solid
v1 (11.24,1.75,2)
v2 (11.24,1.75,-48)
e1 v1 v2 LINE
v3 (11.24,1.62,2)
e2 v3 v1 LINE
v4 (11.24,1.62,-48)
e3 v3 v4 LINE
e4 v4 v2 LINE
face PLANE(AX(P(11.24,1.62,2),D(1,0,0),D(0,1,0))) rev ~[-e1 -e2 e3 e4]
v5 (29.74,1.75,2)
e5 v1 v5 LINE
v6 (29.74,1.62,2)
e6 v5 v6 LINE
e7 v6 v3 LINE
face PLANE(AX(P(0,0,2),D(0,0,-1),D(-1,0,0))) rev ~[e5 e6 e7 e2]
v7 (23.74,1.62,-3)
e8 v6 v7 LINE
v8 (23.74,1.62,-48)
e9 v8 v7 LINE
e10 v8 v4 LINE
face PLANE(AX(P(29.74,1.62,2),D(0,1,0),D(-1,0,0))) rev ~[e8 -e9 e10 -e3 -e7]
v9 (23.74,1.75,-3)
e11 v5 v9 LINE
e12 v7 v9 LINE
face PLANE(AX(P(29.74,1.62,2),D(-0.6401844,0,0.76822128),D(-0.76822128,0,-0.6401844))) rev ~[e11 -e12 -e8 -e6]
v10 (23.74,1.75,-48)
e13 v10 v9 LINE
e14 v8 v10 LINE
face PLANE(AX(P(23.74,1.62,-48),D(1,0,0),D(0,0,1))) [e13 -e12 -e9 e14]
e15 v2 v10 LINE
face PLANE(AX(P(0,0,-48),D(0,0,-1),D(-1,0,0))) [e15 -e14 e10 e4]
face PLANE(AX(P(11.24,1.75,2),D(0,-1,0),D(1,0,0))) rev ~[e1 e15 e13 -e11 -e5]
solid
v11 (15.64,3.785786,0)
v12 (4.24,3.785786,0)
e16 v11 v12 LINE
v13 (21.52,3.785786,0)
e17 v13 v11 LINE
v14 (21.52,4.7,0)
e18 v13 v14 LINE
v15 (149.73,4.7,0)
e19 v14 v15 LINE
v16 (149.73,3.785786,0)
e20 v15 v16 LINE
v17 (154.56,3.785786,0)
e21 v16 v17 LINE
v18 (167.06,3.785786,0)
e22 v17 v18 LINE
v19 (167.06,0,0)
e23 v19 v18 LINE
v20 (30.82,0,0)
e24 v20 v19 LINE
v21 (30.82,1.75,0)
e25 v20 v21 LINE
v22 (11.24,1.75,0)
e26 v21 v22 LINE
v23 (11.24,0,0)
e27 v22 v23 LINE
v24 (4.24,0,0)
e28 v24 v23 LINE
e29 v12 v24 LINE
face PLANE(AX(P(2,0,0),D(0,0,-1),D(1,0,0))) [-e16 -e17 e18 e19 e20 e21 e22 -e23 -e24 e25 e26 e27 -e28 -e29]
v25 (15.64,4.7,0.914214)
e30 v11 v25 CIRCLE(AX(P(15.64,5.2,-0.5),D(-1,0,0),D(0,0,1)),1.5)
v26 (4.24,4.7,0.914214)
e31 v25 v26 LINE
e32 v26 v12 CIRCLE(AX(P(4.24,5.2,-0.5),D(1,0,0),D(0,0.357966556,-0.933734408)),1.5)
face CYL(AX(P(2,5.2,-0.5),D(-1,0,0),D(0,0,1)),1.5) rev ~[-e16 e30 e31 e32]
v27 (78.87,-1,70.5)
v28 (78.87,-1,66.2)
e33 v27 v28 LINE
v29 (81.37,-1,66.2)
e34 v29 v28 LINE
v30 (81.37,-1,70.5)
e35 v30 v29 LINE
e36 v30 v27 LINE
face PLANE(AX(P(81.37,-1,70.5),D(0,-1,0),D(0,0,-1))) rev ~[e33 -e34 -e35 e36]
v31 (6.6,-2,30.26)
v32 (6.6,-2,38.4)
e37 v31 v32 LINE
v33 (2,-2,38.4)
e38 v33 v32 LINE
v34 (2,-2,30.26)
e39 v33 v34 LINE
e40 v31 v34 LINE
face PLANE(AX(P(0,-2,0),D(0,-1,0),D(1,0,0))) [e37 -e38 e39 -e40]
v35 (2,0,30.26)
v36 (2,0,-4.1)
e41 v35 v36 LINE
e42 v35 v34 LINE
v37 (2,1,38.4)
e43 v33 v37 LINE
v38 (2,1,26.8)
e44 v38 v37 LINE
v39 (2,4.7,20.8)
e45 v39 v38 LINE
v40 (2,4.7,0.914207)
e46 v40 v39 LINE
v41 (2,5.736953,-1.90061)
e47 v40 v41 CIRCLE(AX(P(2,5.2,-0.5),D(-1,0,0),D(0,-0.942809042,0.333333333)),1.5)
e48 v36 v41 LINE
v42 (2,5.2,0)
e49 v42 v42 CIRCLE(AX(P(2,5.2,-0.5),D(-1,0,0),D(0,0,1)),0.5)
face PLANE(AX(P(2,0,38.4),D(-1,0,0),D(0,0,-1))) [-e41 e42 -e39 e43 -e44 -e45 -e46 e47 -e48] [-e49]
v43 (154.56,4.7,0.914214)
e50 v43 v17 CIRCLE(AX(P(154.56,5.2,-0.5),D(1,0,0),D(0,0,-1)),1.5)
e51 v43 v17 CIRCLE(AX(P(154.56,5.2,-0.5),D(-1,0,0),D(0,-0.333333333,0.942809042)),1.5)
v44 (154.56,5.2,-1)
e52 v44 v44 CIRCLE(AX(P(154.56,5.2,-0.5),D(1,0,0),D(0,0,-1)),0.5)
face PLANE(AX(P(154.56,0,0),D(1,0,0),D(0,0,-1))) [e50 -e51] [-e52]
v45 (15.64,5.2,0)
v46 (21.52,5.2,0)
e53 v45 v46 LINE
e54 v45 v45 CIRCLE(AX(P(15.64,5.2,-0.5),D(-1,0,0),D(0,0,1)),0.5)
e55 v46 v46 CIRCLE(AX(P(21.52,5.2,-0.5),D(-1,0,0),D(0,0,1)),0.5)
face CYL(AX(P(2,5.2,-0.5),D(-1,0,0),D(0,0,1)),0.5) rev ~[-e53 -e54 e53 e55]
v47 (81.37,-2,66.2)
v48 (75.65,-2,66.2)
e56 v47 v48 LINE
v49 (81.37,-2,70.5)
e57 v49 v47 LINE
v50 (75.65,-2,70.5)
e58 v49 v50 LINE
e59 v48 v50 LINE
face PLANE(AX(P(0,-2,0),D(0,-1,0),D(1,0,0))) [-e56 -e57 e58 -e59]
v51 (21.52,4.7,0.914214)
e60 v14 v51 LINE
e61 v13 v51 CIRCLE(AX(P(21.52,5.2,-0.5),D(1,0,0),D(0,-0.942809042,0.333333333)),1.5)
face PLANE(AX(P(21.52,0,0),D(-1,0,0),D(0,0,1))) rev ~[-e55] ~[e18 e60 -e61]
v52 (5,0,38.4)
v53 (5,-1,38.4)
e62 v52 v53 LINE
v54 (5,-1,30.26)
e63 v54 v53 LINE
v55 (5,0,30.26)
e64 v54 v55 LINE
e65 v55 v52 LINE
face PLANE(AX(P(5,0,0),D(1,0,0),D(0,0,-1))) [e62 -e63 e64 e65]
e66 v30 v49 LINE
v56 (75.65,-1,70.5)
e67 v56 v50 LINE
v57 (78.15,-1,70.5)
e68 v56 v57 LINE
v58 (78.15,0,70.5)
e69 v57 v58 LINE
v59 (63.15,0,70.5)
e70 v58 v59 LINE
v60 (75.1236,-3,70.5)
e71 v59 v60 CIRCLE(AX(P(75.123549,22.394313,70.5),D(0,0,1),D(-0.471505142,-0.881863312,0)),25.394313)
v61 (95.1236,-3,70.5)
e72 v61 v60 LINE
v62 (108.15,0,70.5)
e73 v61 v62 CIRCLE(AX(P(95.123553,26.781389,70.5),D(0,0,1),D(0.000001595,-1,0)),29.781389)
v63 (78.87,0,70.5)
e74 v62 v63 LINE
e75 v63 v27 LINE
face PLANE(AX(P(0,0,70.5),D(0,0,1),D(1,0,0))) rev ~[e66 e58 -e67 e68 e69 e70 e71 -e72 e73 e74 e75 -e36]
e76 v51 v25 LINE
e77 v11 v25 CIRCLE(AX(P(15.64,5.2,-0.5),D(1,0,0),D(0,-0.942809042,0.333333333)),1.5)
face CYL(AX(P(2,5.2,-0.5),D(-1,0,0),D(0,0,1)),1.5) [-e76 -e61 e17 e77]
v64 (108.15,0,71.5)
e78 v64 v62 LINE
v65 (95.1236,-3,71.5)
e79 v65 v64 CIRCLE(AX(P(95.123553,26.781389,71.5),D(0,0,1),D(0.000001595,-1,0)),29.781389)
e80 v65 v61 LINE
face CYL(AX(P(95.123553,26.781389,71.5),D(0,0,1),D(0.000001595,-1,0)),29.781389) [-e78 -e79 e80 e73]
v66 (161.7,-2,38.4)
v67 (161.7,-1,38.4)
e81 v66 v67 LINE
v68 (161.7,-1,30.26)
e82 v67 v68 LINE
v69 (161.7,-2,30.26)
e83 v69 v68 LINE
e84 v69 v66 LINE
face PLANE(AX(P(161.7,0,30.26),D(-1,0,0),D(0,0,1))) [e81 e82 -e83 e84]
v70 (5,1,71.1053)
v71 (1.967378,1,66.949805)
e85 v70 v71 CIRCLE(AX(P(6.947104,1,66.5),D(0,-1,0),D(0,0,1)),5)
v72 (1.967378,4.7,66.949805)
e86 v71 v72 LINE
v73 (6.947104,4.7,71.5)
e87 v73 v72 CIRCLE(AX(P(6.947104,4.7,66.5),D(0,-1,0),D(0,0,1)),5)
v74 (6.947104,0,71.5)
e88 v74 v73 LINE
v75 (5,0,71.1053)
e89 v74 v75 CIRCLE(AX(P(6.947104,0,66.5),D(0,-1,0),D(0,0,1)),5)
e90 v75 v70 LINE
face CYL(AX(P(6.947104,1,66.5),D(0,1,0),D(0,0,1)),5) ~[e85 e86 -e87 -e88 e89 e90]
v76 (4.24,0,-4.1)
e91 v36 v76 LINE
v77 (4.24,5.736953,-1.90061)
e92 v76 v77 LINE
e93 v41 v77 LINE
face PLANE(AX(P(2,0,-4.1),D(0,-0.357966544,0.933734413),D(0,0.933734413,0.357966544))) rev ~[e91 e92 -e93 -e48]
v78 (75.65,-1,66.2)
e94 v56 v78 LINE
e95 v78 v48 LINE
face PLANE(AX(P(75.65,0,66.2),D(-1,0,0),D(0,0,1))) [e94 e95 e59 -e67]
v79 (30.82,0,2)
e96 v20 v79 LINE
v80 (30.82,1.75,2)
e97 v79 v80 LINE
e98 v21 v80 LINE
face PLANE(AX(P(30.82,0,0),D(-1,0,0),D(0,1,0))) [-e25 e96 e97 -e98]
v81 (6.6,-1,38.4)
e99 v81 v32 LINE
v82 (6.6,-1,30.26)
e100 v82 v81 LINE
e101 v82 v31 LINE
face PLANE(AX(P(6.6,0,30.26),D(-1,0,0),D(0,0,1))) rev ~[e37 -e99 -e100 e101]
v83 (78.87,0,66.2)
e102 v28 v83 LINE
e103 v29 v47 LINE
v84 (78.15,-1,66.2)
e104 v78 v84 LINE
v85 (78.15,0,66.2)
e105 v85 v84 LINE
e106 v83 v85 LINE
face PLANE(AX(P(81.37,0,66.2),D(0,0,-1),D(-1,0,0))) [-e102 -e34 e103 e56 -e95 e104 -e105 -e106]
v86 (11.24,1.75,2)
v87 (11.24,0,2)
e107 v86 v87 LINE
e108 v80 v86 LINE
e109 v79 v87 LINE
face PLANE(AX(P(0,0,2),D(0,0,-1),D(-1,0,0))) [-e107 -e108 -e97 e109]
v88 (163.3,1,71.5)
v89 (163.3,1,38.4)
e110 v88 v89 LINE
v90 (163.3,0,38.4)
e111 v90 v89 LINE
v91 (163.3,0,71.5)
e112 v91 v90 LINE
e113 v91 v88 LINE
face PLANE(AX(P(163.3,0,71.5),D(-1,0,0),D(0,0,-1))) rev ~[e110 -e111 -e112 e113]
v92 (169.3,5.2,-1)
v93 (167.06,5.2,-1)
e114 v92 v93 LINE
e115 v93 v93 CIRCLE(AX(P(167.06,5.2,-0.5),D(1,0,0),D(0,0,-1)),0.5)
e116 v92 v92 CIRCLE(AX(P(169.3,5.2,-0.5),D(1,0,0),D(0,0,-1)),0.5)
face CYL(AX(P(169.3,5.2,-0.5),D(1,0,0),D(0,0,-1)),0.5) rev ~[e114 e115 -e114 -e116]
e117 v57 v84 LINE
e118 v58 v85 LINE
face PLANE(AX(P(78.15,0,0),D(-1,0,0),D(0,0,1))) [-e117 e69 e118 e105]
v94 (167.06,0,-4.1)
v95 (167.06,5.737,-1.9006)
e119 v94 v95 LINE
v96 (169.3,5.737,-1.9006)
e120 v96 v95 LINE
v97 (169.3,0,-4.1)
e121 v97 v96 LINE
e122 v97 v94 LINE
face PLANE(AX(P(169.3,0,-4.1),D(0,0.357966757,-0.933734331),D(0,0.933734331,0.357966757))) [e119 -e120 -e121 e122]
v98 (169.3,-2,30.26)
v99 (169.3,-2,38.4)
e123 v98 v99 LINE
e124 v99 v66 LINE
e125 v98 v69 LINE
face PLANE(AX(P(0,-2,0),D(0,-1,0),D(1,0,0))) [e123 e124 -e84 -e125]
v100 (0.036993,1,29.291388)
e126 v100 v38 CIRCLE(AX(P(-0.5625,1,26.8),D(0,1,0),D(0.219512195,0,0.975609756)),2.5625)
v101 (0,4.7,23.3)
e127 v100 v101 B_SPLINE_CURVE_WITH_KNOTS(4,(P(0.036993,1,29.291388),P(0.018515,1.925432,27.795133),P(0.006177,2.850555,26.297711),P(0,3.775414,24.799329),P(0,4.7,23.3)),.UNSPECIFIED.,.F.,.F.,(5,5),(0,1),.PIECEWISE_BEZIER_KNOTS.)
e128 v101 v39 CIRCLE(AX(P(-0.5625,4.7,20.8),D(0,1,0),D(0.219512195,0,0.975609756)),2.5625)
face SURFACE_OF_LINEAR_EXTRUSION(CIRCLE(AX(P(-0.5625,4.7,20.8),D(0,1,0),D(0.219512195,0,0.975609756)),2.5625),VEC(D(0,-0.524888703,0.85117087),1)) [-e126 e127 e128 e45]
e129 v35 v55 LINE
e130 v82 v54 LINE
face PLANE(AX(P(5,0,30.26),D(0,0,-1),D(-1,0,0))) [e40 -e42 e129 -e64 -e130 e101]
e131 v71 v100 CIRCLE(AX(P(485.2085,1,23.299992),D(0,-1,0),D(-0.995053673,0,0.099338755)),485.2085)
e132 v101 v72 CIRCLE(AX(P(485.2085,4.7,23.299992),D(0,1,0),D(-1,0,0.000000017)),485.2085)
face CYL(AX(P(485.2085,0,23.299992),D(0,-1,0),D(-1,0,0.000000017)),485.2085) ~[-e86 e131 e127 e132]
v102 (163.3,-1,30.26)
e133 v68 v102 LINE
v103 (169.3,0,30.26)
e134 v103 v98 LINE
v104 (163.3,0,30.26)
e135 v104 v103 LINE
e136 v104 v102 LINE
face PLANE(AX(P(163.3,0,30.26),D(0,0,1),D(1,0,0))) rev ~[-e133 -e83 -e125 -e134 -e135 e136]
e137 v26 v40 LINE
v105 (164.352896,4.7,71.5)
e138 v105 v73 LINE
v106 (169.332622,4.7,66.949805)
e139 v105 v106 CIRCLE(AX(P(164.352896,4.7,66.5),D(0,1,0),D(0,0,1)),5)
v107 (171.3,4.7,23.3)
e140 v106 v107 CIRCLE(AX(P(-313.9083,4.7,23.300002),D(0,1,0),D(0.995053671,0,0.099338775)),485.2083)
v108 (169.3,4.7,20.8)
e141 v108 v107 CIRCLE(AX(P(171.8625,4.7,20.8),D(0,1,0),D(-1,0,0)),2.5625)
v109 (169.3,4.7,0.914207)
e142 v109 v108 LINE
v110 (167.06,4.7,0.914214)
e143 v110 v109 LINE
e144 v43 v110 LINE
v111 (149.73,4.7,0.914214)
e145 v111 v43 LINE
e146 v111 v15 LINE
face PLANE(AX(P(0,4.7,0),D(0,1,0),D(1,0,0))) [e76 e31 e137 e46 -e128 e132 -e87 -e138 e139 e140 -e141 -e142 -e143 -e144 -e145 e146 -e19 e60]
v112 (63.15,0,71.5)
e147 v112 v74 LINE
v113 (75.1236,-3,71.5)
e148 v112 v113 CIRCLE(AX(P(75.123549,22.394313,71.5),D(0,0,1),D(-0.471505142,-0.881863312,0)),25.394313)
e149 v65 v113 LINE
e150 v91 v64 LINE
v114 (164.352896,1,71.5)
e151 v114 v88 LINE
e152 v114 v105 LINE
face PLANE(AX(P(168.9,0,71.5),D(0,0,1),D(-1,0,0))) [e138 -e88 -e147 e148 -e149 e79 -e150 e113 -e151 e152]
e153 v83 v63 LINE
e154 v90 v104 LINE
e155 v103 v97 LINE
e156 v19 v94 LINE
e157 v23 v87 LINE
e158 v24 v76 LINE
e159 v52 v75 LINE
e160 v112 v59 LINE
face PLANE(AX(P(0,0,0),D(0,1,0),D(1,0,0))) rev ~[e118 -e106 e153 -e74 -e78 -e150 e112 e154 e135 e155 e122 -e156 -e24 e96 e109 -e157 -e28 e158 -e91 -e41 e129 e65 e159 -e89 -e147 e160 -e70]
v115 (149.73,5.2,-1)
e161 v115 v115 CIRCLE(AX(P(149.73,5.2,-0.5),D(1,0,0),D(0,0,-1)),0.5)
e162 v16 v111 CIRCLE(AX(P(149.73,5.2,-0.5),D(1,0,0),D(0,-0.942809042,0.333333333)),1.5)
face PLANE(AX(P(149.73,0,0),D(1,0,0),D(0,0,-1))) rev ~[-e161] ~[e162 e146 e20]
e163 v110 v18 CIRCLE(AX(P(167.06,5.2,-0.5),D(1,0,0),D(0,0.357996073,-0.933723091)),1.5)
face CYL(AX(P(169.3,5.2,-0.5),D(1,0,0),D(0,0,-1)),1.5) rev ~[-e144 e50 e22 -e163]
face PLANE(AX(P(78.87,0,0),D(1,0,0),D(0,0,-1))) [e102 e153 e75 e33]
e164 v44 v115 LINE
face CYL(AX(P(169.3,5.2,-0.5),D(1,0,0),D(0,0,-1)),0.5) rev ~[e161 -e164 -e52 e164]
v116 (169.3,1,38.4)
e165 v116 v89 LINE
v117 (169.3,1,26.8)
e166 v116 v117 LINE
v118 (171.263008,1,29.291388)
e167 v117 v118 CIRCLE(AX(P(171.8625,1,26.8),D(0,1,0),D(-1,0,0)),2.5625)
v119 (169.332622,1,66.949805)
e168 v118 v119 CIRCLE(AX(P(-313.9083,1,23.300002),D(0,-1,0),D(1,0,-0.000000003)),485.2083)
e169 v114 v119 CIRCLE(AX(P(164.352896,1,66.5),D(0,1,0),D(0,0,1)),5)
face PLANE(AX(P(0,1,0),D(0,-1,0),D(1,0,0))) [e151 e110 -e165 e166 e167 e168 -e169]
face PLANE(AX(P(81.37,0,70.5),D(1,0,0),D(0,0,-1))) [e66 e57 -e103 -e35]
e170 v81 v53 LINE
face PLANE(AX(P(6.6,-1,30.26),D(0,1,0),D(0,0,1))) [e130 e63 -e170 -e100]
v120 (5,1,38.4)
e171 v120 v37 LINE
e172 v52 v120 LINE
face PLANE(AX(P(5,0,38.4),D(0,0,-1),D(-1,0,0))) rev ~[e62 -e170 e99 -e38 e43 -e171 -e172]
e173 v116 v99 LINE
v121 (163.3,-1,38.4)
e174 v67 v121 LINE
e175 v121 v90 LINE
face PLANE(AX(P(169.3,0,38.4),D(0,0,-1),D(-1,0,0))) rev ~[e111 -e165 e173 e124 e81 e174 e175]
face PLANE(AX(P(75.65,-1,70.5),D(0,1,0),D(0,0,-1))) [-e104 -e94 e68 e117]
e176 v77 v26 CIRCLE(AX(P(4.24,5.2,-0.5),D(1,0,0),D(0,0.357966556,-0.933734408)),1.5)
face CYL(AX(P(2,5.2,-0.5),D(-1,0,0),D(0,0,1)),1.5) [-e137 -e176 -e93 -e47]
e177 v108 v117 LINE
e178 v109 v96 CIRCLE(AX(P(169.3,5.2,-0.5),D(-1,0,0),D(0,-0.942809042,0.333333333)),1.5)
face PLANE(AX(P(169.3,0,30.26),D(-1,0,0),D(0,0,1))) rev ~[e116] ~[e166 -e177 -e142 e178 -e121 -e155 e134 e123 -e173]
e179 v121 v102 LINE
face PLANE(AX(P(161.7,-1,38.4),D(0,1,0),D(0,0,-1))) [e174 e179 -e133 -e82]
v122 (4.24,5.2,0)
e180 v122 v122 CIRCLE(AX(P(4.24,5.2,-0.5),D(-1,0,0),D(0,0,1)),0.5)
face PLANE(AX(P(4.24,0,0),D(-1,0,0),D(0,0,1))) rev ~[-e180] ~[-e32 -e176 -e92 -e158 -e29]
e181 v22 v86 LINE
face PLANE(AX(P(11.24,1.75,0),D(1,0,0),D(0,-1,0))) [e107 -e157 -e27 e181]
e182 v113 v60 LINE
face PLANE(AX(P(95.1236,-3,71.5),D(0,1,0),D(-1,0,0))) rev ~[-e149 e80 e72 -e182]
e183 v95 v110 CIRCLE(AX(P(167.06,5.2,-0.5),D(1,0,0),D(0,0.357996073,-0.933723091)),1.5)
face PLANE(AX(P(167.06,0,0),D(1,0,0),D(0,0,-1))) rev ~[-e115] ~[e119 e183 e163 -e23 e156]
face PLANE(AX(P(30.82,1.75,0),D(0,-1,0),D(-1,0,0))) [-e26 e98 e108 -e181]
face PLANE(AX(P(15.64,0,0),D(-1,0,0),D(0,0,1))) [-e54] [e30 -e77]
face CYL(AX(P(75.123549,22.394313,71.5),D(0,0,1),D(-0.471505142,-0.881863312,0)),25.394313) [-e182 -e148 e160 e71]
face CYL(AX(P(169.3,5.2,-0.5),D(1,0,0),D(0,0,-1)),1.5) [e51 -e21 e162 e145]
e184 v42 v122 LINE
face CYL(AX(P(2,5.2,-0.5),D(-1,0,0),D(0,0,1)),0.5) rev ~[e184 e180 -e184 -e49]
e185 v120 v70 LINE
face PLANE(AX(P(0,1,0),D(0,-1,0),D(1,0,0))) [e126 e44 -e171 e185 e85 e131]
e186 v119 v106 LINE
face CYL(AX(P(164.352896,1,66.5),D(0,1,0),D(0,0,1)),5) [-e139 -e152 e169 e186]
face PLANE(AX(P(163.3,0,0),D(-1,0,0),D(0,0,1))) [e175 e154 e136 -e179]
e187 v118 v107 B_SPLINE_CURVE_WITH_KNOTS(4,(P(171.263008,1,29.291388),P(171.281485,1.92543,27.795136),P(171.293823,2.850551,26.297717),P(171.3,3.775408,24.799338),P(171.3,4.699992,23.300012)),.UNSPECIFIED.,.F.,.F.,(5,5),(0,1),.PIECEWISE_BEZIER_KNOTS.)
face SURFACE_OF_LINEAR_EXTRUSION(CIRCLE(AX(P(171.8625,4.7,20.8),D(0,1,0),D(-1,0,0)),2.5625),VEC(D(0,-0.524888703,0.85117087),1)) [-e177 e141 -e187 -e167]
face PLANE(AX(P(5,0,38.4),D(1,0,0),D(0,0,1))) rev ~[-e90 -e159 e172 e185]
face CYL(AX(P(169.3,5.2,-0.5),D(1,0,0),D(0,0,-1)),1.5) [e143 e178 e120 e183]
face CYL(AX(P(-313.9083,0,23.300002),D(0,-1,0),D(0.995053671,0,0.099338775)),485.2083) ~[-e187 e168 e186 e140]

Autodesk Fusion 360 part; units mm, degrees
sketch "Sketch1" plane through (0, 0, 0) normal (0, 1, 0) x (1, 0, 0)
  line L0 (0, 0) -> (171.3, 0)
  line L1 (171.3, 0) -> (171.3, -71.5)
  line L2 (171.3, -71.5) -> (0, -71.5)
  line L3 (0, -71.5) -> (0, 0)
  line L4 (171.3, 0) -> (169.3, 0)
  line L5 (169.3, 0) -> (169.3, -23.3)
  line L6 (169.3, -23.3) -> (171.3, -23.3)
  line L7 (171.3, -23.3) -> (171.3, 0)
  line L8 (0, 0) -> (2, 0)
  line L9 (2, 0) -> (2, -23.3)
  line L10 (2, -23.3) -> (0, -23.3)
  line L11 (0, -23.3) -> (0, 0)
  arc A0 (0, -23.3) -> (2.4, -71.5) centre (485.2085, -23.3) ccw
  arc A1 (168.9, -71.5) -> (171.3, -23.3) centre (-313.9083, -23.3) ccw
  line L12 (2, 0) -> (0, 0)
  line L13 (0, 0) -> (0, -20.8)
  line L14 (0, -20.8) -> (2, -20.8)
  line L15 (2, -20.8) -> (2, 0)
  arc A2 (0, -23.3) -> (2, -20.8) centre (-0.5625, -20.8) ccw
  line L16 (171.3, 0) -> (169.3, 0)
  line L17 (169.3, 0) -> (169.3, -20.8)
  line L18 (169.3, -20.8) -> (171.3, -20.8)
  line L19 (171.3, -20.8) -> (171.3, 0)
  arc A3 (169.3, -20.8) -> (171.3, -23.3) centre (171.8625, -20.8) ccw
  dimension "d1" = 171.3
  dimension "d2" = 71.5
  dimension "d3" = 23.3
  dimension "d4" = 2
  dimension "d5" = 2
  dimension "d6" = 23.3
  dimension "d7" = 2.4
  dimension "d8" = 2.4
  dimension "d15" = 2.5
  dimension "d16" = 2.5
extrude "Extrude1" add sketch "Sketch1" along normal blind 4.7 contours L0 L2 L5 L6 L9 L10 A0 A1 L15 L17 | L9 L10 A2 | L5 L6 A3 makes body 1
sketch "Right Arm" plane through (169.3, 0, 0) normal (1, 0, 0) x (0, 0, -1)
  line L0 (-20.8, 0) -> (0, 0)
  line L1 (0, 0) -> (0, 4.7)
  line L2 (0, 4.7) -> (-20.8, 4.7)
  line L3 (-20.8, 4.7) -> (-20.8, 0)
  circle A0 centre (0.5, 5.2) radius 1.5
  line L4 (0, 0) -> (4.1, 0)
  line L5 (4.1, 0) -> (1.9006, 5.737)
  circle A1 centre (0.5, 5.2) radius 0.5
  dimension "d20" = 0.5
  dimension "d21" = 0.5
  dimension "d22" = 3
  dimension "d23" = 4.1
  dimension "d26" = 1
extrude "Extrude3" cut sketch "Right Arm" against normal blind 14.74 contours L1 L2 A0 | L1 L2 A0 bodies 1
extrude "Extrude2" add sketch "Right Arm" against normal blind 19.57 contours L1 L2 A0 | L1 L2 A0 bodies 1
extrude "Extrude4" cut sketch "Right Arm" against normal blind 14.74 contours L1 L2 A0 | L1 L2 A0 bodies 1
extrude "Extrude5" add sketch "Right Arm" against normal blind 2.24 contours L1 A0 L4 L5 | L1 L2 A0 | L1 L2 A0 bodies 1
sketch "Left Arm" plane through (2, 0, 0) normal (-1, 0, 0) x (0, 0, 1)
  line L0 (0, 0) -> (20.8, 0)
  line L1 (20.8, 0) -> (20.8, 4.7)
  line L2 (20.8, 4.7) -> (0, 4.7)
  line L3 (0, 4.7) -> (0, 0)
  circle A0 centre (-0.5, 5.2) radius 1.5
  line L4 (0, 0) -> (-4.1, 0)
  line L5 (-4.1, 0) -> (-1.766, 6.0881)
  circle A1 centre (-0.5, 5.2) radius 0.5
  dimension "d42" = 3
  dimension "d43" = 1
  dimension "d44" = 0.5
  dimension "d45" = 0.5
  dimension "d46" = 4.1
extrude "Extrude6" add sketch "Left Arm" against normal blind 19.52 contours L2 L3 A0 | L2 L3 A0 bodies 1
extrude "Extrude7" cut sketch "Left Arm" against normal blind 13.64 contours L2 L3 A0 | L2 L3 A0 bodies 1
extrude "Extrude8" add sketch "Left Arm" against normal blind 2.24 contours L3 A0 L4 L5 | L2 L3 A0 | L2 L3 A0 bodies 1
sketch "Cable Cutaway" plane through (0, 0, 0) normal (0, 0, -1) x (-1, 0, 0)
  line L0 (-4.24, 0) -> (-4.24, 3.7858)
  line L1 (-4.24, 3.7858) -> (-15.64, 3.7858)
  line L2 (-15.64, 3.7858) -> (-21.52, 3.7858)
  line L3 (-21.52, 3.7858) -> (-21.52, 4.7)
  line L4 (-21.52, 4.7) -> (-149.73, 4.7)
  line L5 (-149.73, 4.7) -> (-149.73, 3.7858)
  line L6 (-149.73, 3.7858) -> (-154.56, 3.7858)
  line L7 (-154.56, 3.7858) -> (-167.06, 3.7858)
  line L8 (-167.06, 3.7858) -> (-167.06, 0)
  line L9 (-167.06, 0) -> (-4.24, 0)
  line L10 (-11.24, 0) -> (-30.82, 0)
  line L11 (-30.82, 0) -> (-30.82, 1.75)
  line L12 (-30.82, 1.75) -> (-11.24, 1.75)
  line L13 (-11.24, 1.75) -> (-11.24, 0)
  dimension "d53" = 7
  dimension "d57" = 19.58
  dimension "d59" = 1.75
extrude "Extrude9" cut sketch "Cable Cutaway" against normal blind 2 contours L9 L10 L11 L12 L13 bodies 1
sketch "Cable Extrusion" plane through (0, 0, 2) normal (0, 0, -1) x (-1, 0, 0)
  line L0 (-11.24, 1.75) -> (-30.82, 1.75)
  line L1 (-30.82, 1.75) -> (-30.82, 0)
  line L2 (-30.82, 0) -> (-11.24, 0)
  line L3 (-11.24, 0) -> (-11.24, 1.75)
  line L4 (-11.24, 1.75) -> (-29.74, 1.75)
  line L5 (-29.74, 1.75) -> (-29.74, 1.62)
  line L6 (-29.74, 1.62) -> (-11.24, 1.62)
  line L7 (-11.24, 1.62) -> (-11.24, 1.75)
  dimension "d63" = 0.13
  dimension "d64" = 18.5
extrude "Extrude10" add sketch "Cable Extrusion" along normal blind 50 separate body contours L0 L3 L4 L5 L6 L7 makes body 2
sketch "Cable" plane through (0, 1.62, 0) normal (0, -1, 0) x (1, 0, 0)
  line L0 (29.74, 2) -> (11.24, 2)
  line L1 (11.24, 2) -> (11.24, -48)
  line L2 (11.24, -48) -> (29.74, -48)
  line L3 (29.74, -48) -> (29.74, 2)
  line L4 (11.24, -48) -> (23.74, -48)
  line L5 (23.74, -48) -> (23.74, -3)
  line L6 (23.74, -3) -> (11.24, -3)
  line L7 (11.24, -3) -> (11.24, -48)
  line L8 (29.74, 2) -> (23.74, -3)
  dimension "d69" = 12.5
  dimension "d72" = 5
extrude "Extrude11" cut sketch "Cable" against normal blind 0.13 contours L0 L1 L6 L8 | L1 L2 L4 L5 L6 L7 keep common part bodies 2
sketch "Hooks" plane through (0, 0, 0) normal (0, -1, 0) x (1, 0, 0)
  line L0 (11.24, 0) -> (11.24, 2)
  line L1 (11.24, 2) -> (30.82, 2)
  line L2 (30.82, 2) -> (30.82, 0)
  line L3 (30.82, 0) -> (167.06, 0)
  line L4 (167.06, 0) -> (167.06, -4.1)
  line L5 (167.06, -4.1) -> (169.3, -4.1)
  line L6 (169.3, -4.1) -> (169.3, 20.8)
  arc A0 (171.3, 23.3) -> (169.3, 20.8) centre (171.8625, 20.8) ccw
  arc A1 (171.3, 23.3) -> (168.9, 71.5) centre (-313.9083, 23.3) ccw
  line L7 (168.9, 71.5) -> (2.4, 71.5)
  arc A2 (2.4, 71.5) -> (0, 23.3) centre (485.2085, 23.3) ccw
  arc A3 (2, 20.8) -> (0, 23.3) centre (-0.5625, 20.8) ccw
  line L8 (2, 20.8) -> (2, -4.1)
  line L9 (2, -4.1) -> (4.24, -4.1)
  line L10 (4.24, -4.1) -> (4.24, 0)
  line L11 (4.24, 0) -> (11.24, 0)
  line L12 (2, -4.1) -> (169.3, -4.1)
  line L13 (169.3, -4.1) -> (169.3, 38.4)
  line L14 (169.3, 38.4) -> (2, 38.4)
  line L15 (2, 38.4) -> (2, -4.1)
  line L16 (169.3, 20.8) -> (169.3, 0)
  line L17 (163.3, 38.4) -> (5, 38.4)
  line L18 (5, 38.4) -> (5, 71.5)
  line L19 (5, 71.5) -> (163.3, 71.5)
  line L20 (163.3, 71.5) -> (163.3, 38.4)
  line L21 (169.3, 38.4) -> (163.3, 38.4)
  line L22 (163.3, 38.4) -> (163.3, 30.26)
  line L23 (163.3, 30.26) -> (169.3, 30.26)
  line L24 (169.3, 30.26) -> (169.3, 38.4)
  line L25 (163.3, 30.26) -> (161.7, 30.26)
  line L26 (161.7, 30.26) -> (161.7, 38.4)
  line L27 (161.7, 38.4) -> (163.3, 38.4)
  line L28 (163.3, 38.4) -> (163.3, 30.26)
  line L29 (2, 38.4) -> (5, 38.4)
  line L30 (5, 38.4) -> (5, 30.26)
  line L31 (5, 30.26) -> (2, 30.26)
  line L32 (2, 30.26) -> (2, 38.4)
  line L33 (5, 30.26) -> (6.6, 30.26)
  line L34 (6.6, 30.26) -> (6.6, 38.4)
  line L35 (6.6, 38.4) -> (5, 38.4)
  line L36 (5, 38.4) -> (5, 30.26)
  dimension "d75" = 42.5
  dimension "d89" = 1.6
  dimension "d90" = 1.6
  dimension "d91" = 8.14
  dimension "d92" = 8.14
  dimension "d156" = 3
  dimension "d157" = 6
extrude "Extrude17" add sketch "Hooks" along normal blind 2 contours L13 L14 L21 L22 L23 L24 L28 | L14 L17 L22 L25 L26 L27 L28 bodies 1
extrude "Extrude16" add sketch "Hooks" along normal blind 2 contours L13 L14 L21 L22 L23 L24 L28 | L14 L17 L22 L25 L26 L27 L28 bodies 1
extrude "Extrude15" add sketch "Hooks" along normal blind 2 contours L13 L14 L21 L22 L23 L24 L28 | L14 L17 L22 L25 L26 L27 L28 bodies 1
extrude "Extrude14" add sketch "Hooks" along normal blind 1 contours L14 L17 L22 L25 L26 L27 L28 bodies 1
extrude "Extrude13" add sketch "Hooks" along normal blind 2 contours L13 L14 L21 L22 L23 L24 L28 | L14 L17 L22 L25 L26 L27 L28 bodies 1
extrude "Extrude12" cut sketch "Hooks" against normal blind 1 contours L7 A2 A3 L14 L15 L18 L29 L32 | A0 A1 L7 L13 L14 L20 L21 L24 bodies 1
fillet "Fillet1" radius 5 1 edges at (2.4, 2.85, 71.5) on bodies 1
fillet "Fillet2" radius 5 1 edges at (168.9, 2.85, 71.5) on bodies 1
sketch "Right Hook Inset" plane through (161.7, 0, 0) normal (-1, 0, 0) x (0, 0, 1)
  line L0 (30.26, 0) -> (30.26, -2)
  line L1 (30.26, -2) -> (38.4, -2)
  line L2 (38.4, -2) -> (38.4, 0)
  line L3 (38.4, 0) -> (30.26, 0)
  line L4 (30.26, 0) -> (38.4, 0)
  line L5 (38.4, 0) -> (38.4, -1)
  line L6 (38.4, -1) -> (30.26, -1)
  line L7 (30.26, -1) -> (30.26, 0)
  line L8 (30.26, 0) -> (38.4, 0)
  dimension "d103" = 1
extrude "Extrude18" cut sketch "Right Hook Inset" against normal blind 1.6 contours L0 L2 L3 L4 L5 L6 L7 L8 bodies 1
extrude "Extrude19" add sketch "Hooks" along normal blind 2 contours L14 L15 L29 L30 L31 L32 L36 | L14 L17 L30 L33 L34 L35 L36 bodies 1
sketch "Left Hook Inset" plane through (6.6, 0, 0) normal (1, 0, 0) x (0, 0, -1)
  line L0 (-30.26, 0) -> (-38.4, 0)
  line L1 (-38.4, 0) -> (-38.4, -2)
  line L2 (-38.4, -2) -> (-30.26, -2)
  line L3 (-30.26, -2) -> (-30.26, 0)
  line L4 (-38.4, 0) -> (-30.26, 0)
  line L5 (-30.26, 0) -> (-30.26, -1)
  line L6 (-30.26, -1) -> (-38.4, -1)
  line L7 (-38.4, -1) -> (-38.4, 0)
  line L8 (-30.26, 0) -> (-38.4, 0)
  dimension "d108" = 1
extrude "Extrude20" cut sketch "Left Hook Inset" against normal blind 1.6 contours L0 L1 L3 L4 L5 L6 L7 L8 bodies 1
sketch "Front Feature" plane through (0, 0, 71.5) normal (0, 0, 1) x (1, 0, 0)
  line L0 (164.3529, 1) -> (164.3529, 4.7)
  line L1 (164.3529, 4.7) -> (6.9471, 4.7)
  line L2 (6.9471, 4.7) -> (6.9471, 0)
  line L3 (6.9471, 0) -> (163.3, 0)
  line L4 (63.15, 4.7) -> (108.15, 4.7)
  line L5 (108.15, 4.7) -> (108.15, -3)
  line L6 (108.15, -3) -> (63.15, -3)
  line L7 (63.15, -3) -> (63.15, 4.7)
  line L8 (75.1236, 0) -> (95.1236, 0)
  line L9 (95.1236, 0) -> (95.1236, -3)
  line L10 (95.1236, -3) -> (75.1236, -3)
  line L11 (75.1236, -3) -> (75.1236, 0)
  arc A0 (63.15, 0) -> (75.1236, -3) centre (75.1236, 22.3943) ccw
  arc A1 (95.1236, -3) -> (108.15, 0) centre (95.1236, 26.7814) ccw
  line L12 (163.3, 1) -> (164.3529, 1)
  line L13 (163.3, 0) -> (163.3, 1)
  dimension "d111" = 45
  dimension "d115" = 7.7
  dimension "d116" = 20
extrude "Extrude21" add sketch "Front Feature" against normal blind 1 contours L3 L9 A1 | L3 L11 A0 | L3 L6 L8 L9 L10 L11 bodies 1
sketch "Front Hook" plane through (0, 0, 0) normal (0, -1, 0) x (1, 0, 0)
  line L0 (63.15, 70.5) -> (63.15, 71.5)
  line L1 (63.15, 71.5) -> (6.9471, 71.5)
  line L2 (5, 71.1053) -> (5, 38.4)
  line L3 (5, 38.4) -> (5, 30.26)
  line L4 (5, 30.26) -> (2, 30.26)
  line L5 (2, 30.26) -> (2, -4.1)
  line L6 (2, -4.1) -> (4.24, -4.1)
  line L7 (4.24, -4.1) -> (4.24, 0)
  line L8 (4.24, 0) -> (11.24, 0)
  line L9 (11.24, 0) -> (11.24, 2)
  line L10 (11.24, 2) -> (30.82, 2)
  line L11 (30.82, 2) -> (30.82, 0)
  line L12 (30.82, 0) -> (167.06, 0)
  line L13 (167.06, 0) -> (167.06, -4.1)
  line L14 (167.06, -4.1) -> (169.3, -4.1)
  line L15 (169.3, -4.1) -> (169.3, 30.26)
  line L16 (169.3, 30.26) -> (163.3, 30.26)
  line L17 (163.3, 30.26) -> (163.3, 38.4)
  line L18 (163.3, 38.4) -> (163.3, 71.5)
  line L19 (108.15, 71.5) -> (108.15, 70.5)
  line L20 (108.15, 70.5) -> (63.15, 70.5)
  line L21 (75.65, 70.5) -> (81.37, 70.5)
  line L22 (81.37, 70.5) -> (81.37, 66.2)
  line L23 (81.37, 66.2) -> (75.65, 66.2)
  line L24 (75.65, 66.2) -> (75.65, 70.5)
  arc A0 (6.9471, 71.5) -> (5, 71.1053) centre (6.9471, 66.5) ccw
  line L25 (163.3, 71.5) -> (108.15, 71.5)
  dimension "d123" = 12.5
  dimension "d124" = 5.72
  dimension "d125" = 4.3
extrude "Extrude22" add sketch "Front Hook" along normal blind 2 contours L20 L21 L22 L23 L24 bodies 1
sketch "Front Hook Right Inset" plane through (81.37, 0, 0) normal (1, 0, 0) x (0, 0, -1)
  line L0 (-66.2, 0) -> (-70.5, 0)
  line L1 (-70.5, 0) -> (-70.5, -2)
  line L2 (-70.5, -2) -> (-66.2, -2)
  line L3 (-66.2, -2) -> (-66.2, 0)
  line L4 (-66.2, 0) -> (-70.5, 0)
  line L5 (-70.5, 0) -> (-70.5, -1)
  line L6 (-70.5, -1) -> (-66.2, -1)
  line L7 (-66.2, -1) -> (-66.2, 0)
  dimension "d128" = 1
extrude "Extrude23" cut sketch "Front Hook Right Inset" against normal blind 2.5 contours L0 L1 L3 L4 L5 L6 L7 bodies 1
sketch "Front Hook Left Inset" plane through (75.65, 0, 0) normal (-1, 0, 0) x (0, 0, 1)
  line L0 (70.5, 0) -> (66.2, 0)
  line L1 (66.2, 0) -> (66.2, -2)
  line L2 (66.2, -2) -> (70.5, -2)
  line L3 (70.5, -2) -> (70.5, 0)
  line L4 (66.2, 0) -> (70.5, 0)
  line L5 (70.5, 0) -> (70.5, -1)
  line L6 (70.5, -1) -> (66.2, -1)
  line L7 (66.2, -1) -> (66.2, 0)
  dimension "d132" = 1
extrude "Extrude24" cut sketch "Front Hook Left Inset" against normal blind 2.5 contours L0 L1 L3 L4 L5 L6 L7 bodies 1
sketch "Left Side Detail Angle" plane through (2, 0, 0) normal (-1, 0, 0) x (0, 0, 1)
  circle A0 centre (-0.5, 5.2) radius 0.5
  line L0 (38.4, -2) -> (38.4, 1)
  line L1 (38.4, 1) -> (20.8, 1)
  line L2 (20.8, 1) -> (20.8, 4.7)
  line L3 (20.8, 4.7) -> (0.9142, 4.7)
  arc A1 (0.9142, 4.7) -> (-1.9006, 5.7369) centre (-0.5, 5.2) ccw
  line L4 (-1.9006, 5.7369) -> (-4.1, 0)
  line L5 (-4.1, 0) -> (30.26, 0)
  line L6 (30.26, 0) -> (30.26, -2)
  line L7 (30.26, -2) -> (38.4, -2)
  line L8 (20.8, 4.7) -> (26.8, 1)
  dimension "d141" = 6
sketch "Left Side Detail" plane through (0, 4.7, 0) normal (0, 1, 0) x (-1, 0, 0)
  arc A0 (-164.3529, 71.5) -> (-169.3326, 66.9498) centre (-164.3529, 66.5) ccw
  arc A1 (-169.3326, 66.9498) -> (-171.3, 23.3) centre (313.9083, 23.3) ccw
  arc A2 (-169.3, 20.8) -> (-171.3, 23.3) centre (-171.8625, 20.8) ccw
  line L0 (-169.3, 20.8) -> (-169.3, 0.9142)
  line L1 (-169.3, 0.9142) -> (-167.06, 0.9142)
  line L2 (-167.06, 0.9142) -> (-154.56, 0.9142)
  line L3 (-154.56, 0.9142) -> (-149.73, 0.9142)
  line L4 (-149.73, 0.9142) -> (-149.73, 0)
  line L5 (-149.73, 0) -> (-21.52, 0)
  line L6 (-21.52, 0) -> (-21.52, 0.9142)
  line L7 (-21.52, 0.9142) -> (-15.64, 0.9142)
  line L8 (-15.64, 0.9142) -> (-4.24, 0.9142)
  line L9 (-4.24, 0.9142) -> (-2, 0.9142)
  line L10 (-2, 0.9142) -> (-2, 20.8)
  arc A3 (0, 23.3) -> (-2, 20.8) centre (0.5625, 20.8) ccw
  arc A4 (0, 23.3) -> (-1.9674, 66.9498) centre (-485.2085, 23.3) ccw
  arc A5 (-1.9674, 66.9498) -> (-6.9471, 71.5) centre (-6.9471, 66.5) ccw
  line L11 (-6.9471, 71.5) -> (-164.3529, 71.5)
  line L12 (-2, 0.9142) -> (0, 0.9142)
  line L13 (0, 0.9142) -> (0, 23.3)
  line L14 (0, 23.3) -> (-2, 23.3)
  line L15 (-2, 23.3) -> (-2, 0.9142)
sweep "Sweep2" cut profiles "Left Side Detail" path "Left Side Detail Angle" along L8 section 1 contours L10 A3 L12 L13 L15 bodies 1
sketch "Right Side Detail Angle" plane through (169.3, 0, 0) normal (1, 0, 0) x (0, 0, -1)
  circle A0 centre (0.5, 5.2) radius 0.5
  line L0 (-38.4, 1) -> (-38.4, -2)
  line L1 (-38.4, -2) -> (-30.26, -2)
  line L2 (-30.26, -2) -> (-30.26, 0)
  line L3 (-30.26, 0) -> (4.1, 0)
  line L4 (4.1, 0) -> (1.9006, 5.737)
  arc A1 (1.9006, 5.737) -> (-0.9142, 4.7) centre (0.5, 5.2) ccw
  line L5 (-0.9142, 4.7) -> (-20.8, 4.7)
  line L6 (-20.8, 4.7) -> (-20.8, 1)
  line L7 (-20.8, 1) -> (-38.4, 1)
  line L8 (-20.8, 4.7) -> (-26.8, 1)
  dimension "d149" = 6
sketch "Right Side Detail" plane through (0, 4.7, 0) normal (0, 1, 0) x (-1, 0, 0)
  arc A0 (-164.3529, 71.5) -> (-169.3326, 66.9498) centre (-164.3529, 66.5) ccw
  arc A1 (-169.3326, 66.9498) -> (-171.3, 23.3) centre (313.9083, 23.3) ccw
  arc A2 (-169.3, 20.8) -> (-171.3, 23.3) centre (-171.8625, 20.8) ccw
  line L0 (-169.3, 20.8) -> (-169.3, 0.9142)
  line L1 (-169.3, 0.9142) -> (-167.06, 0.9142)
  line L2 (-167.06, 0.9142) -> (-154.56, 0.9142)
  line L3 (-154.56, 0.9142) -> (-149.73, 0.9142)
  line L4 (-149.73, 0.9142) -> (-149.73, 0)
  line L5 (-149.73, 0) -> (-21.52, 0)
  line L6 (-21.52, 0) -> (-21.52, 0.9142)
  line L7 (-21.52, 0.9142) -> (-15.64, 0.9142)
  line L8 (-15.64, 0.9142) -> (-4.24, 0.9142)
  line L9 (-4.24, 0.9142) -> (-2, 0.9142)
  line L10 (-2, 0.9142) -> (-2, 20.8)
  arc A3 (0, 23.3) -> (-2, 20.8) centre (0.5625, 20.8) ccw
  arc A4 (0, 23.3) -> (-1.9674, 66.9498) centre (-485.2085, 23.3) ccw
  arc A5 (-1.9674, 66.9498) -> (-6.9471, 71.5) centre (-6.9471, 66.5) ccw
  line L11 (-6.9471, 71.5) -> (-164.3529, 71.5)
  line L12 (-169.3, 0.9142) -> (-171.3, 0.9142)
  line L13 (-171.3, 0.9142) -> (-171.3, 23.3)
  line L14 (-171.3, 23.3) -> (-169.3, 23.3)
  line L15 (-169.3, 23.3) -> (-169.3, 0.9142)
sweep "Sweep3" cut profiles "Right Side Detail" path "Right Side Detail Angle" along L8 section 1 contours A2 L0 L12 L13 L15 bodies 1
equation "d1 = width"
equation "d2 = depth"
equation "d3 = depth - curveDepth"
equation "d4 = slideInset"
equation "d5 = slideInset"
equation "d6 = depth - curveDepth"
equation "d7 = curveInset"
equation "d8 = curveInset"
equation "depth = 71.5 mm"
equation "curveDepth = 48.2 mm"
equation "curveInset = 2.4 mm"
equation "slideInset = 2 mm"
equation "width = 171.3 mm"
equation "height = 4.7 mm"
equation "d15 = backCurveDepth"
equation "d16 = backCurveDepth"
equation "backCurveDepth = 2.5 mm"
equation "d18 = height"
equation "d20 = hingeOffset"
equation "d21 = hingeOffset"
equation "d22 = hingeDiameter"
equation "d23 = armDepth"
equation "hingeDiameter = 3 mm"
equation "armDepth = 4.1 mm"
equation "d26 = hingeDiameterInner"
equation "hingeDiameterInner = 1 mm"
equation "leftHingeEndWidth = 5.88 mm"
equation "rightHingeEndWidth = 4.83 mm"
equation "armWidth = 2.24 mm"
equation "leftHingeSlotWidth = 11.4 mm"
equation "rightHingeSlotWidth = 12.5 mm"
equation "d33 = -rightHingeEndWidth - rightHingeSlotWidth - armWidth"
equation "d35 = -rightHingeSlotWidth - armWidth"
equation "d37 = -rightHingeSlotWidth - armWidth"
equation "d39 = -armWidth"
equation "hingeOffset = 0.5 mm"
equation "d42 = hingeDiameter"
equation "d43 = hingeDiameterInner"
equation "d44 = hingeOffset"
equation "d45 = hingeOffset"
equation "d46 = armDepth"
equation "d47 = -leftHingeEndWidth - leftHingeSlotWidth - armWidth"
equation "d49 = -armWidth - leftHingeSlotWidth"
equation "d51 = -armWidth"
equation "d53 = cableCutoutRightOffset"
equation "cableCutoutRightOffset = 7 mm"
equation "cableCutoutWidth = 19.58 mm"
equation "cableCutoutDepth = 2 mm"
equation "d57 = cableCutoutWidth"
equation "cableCutoutHeight = 1.75 mm"
equation "d59 = cableCutoutHeight"
equation "d60 = -cableCutoutDepth"
equation "cableHeight = 0.13 mm"
equation "d63 = cableHeight"
equation "d64 = cableMaxWidth"
equation "cableMaxWidth = 18.5 mm"
equation "d66 = cableDepth"
equation "cableDepth = 50 mm"
equation "d69 = cableMinWidth"
equation "cableMinWidth = 12.5 mm"
equation "cableTransitionDepth = 5 mm"
equation "d72 = cableTransitionDepth"
equation "d73 = -cableHeight"
equation "d75 = sliderBackDepth"
equation "slideWidth = 158 mm"
equation "slideHeight = 1 mm"
equation "d79 = -slideHeight"
equation "sliderBackDepth = 42.5 mm"
equation "frontRadius = 5 mm"
equation "d83 = frontRadius"
equation "d84 = frontRadius"
equation "hookDepth = 8.14 mm"
equation "hookHeight = 2 mm"
equation "hookSpaceHeight = 1 mm"
equation "hookInset = 1.60 mm"
equation "d89 = hookInset"
equation "d90 = hookInset"
equation "d91 = hookDepth"
equation "d92 = hookDepth"
equation "d93 = hookHeight"
equation "d95 = hookSpaceHeight"
equation "d97 = hookHeight"
equation "d99 = hookHeight"
equation "d101 = hookHeight"
equation "d103 = hookSpaceHeight"
equation "d104 = -hookInset"
equation "d106 = hookHeight"
equation "d108 = hookSpaceHeight"
equation "d109 = -hookInset"
equation "d111 = frontFeatureWidth"
equation "frontFeatureWidth = 45 mm"
equation "frontFeatureDepth = 1 mm"
equation "frontFeatureHeight = 7.7 mm"
equation "d115 = frontFeatureHeight"
equation "d116 = frontFeatureInnerWidth"
equation "frontFeatureInnerWidth = 20 mm"
equation "d118 = -frontFeatureDepth"
equation "frontHookWidth = 5.72 mm"
equation "frontHookDepth = 4.3 mm"
equation "frontHookLeftOffset = 12.5 mm"
equation "d123 = frontHookLeftOffset"
equation "d124 = frontHookWidth"
equation "d125 = frontHookDepth"
equation "d126 = hookHeight"
equation "d128 = hookSpaceHeight"
equation "frontHookInsetWidth = 2.5 mm"
equation "d130 = -frontHookInsetWidth"
equation "d132 = hookSpaceHeight"
equation "d133 = -frontHookInsetWidth"
equation "d141 = sideDetailDepth"
equation "sideDetailDepth = 6 mm"
equation "d149 = sideDetailDepth"
equation "d156 = leftSlideMargin"
equation "d157 = rightSlideMargin"
equation "rightSlideMargin = 6 mm"
equation "leftSlideMargin = 3 mm"
